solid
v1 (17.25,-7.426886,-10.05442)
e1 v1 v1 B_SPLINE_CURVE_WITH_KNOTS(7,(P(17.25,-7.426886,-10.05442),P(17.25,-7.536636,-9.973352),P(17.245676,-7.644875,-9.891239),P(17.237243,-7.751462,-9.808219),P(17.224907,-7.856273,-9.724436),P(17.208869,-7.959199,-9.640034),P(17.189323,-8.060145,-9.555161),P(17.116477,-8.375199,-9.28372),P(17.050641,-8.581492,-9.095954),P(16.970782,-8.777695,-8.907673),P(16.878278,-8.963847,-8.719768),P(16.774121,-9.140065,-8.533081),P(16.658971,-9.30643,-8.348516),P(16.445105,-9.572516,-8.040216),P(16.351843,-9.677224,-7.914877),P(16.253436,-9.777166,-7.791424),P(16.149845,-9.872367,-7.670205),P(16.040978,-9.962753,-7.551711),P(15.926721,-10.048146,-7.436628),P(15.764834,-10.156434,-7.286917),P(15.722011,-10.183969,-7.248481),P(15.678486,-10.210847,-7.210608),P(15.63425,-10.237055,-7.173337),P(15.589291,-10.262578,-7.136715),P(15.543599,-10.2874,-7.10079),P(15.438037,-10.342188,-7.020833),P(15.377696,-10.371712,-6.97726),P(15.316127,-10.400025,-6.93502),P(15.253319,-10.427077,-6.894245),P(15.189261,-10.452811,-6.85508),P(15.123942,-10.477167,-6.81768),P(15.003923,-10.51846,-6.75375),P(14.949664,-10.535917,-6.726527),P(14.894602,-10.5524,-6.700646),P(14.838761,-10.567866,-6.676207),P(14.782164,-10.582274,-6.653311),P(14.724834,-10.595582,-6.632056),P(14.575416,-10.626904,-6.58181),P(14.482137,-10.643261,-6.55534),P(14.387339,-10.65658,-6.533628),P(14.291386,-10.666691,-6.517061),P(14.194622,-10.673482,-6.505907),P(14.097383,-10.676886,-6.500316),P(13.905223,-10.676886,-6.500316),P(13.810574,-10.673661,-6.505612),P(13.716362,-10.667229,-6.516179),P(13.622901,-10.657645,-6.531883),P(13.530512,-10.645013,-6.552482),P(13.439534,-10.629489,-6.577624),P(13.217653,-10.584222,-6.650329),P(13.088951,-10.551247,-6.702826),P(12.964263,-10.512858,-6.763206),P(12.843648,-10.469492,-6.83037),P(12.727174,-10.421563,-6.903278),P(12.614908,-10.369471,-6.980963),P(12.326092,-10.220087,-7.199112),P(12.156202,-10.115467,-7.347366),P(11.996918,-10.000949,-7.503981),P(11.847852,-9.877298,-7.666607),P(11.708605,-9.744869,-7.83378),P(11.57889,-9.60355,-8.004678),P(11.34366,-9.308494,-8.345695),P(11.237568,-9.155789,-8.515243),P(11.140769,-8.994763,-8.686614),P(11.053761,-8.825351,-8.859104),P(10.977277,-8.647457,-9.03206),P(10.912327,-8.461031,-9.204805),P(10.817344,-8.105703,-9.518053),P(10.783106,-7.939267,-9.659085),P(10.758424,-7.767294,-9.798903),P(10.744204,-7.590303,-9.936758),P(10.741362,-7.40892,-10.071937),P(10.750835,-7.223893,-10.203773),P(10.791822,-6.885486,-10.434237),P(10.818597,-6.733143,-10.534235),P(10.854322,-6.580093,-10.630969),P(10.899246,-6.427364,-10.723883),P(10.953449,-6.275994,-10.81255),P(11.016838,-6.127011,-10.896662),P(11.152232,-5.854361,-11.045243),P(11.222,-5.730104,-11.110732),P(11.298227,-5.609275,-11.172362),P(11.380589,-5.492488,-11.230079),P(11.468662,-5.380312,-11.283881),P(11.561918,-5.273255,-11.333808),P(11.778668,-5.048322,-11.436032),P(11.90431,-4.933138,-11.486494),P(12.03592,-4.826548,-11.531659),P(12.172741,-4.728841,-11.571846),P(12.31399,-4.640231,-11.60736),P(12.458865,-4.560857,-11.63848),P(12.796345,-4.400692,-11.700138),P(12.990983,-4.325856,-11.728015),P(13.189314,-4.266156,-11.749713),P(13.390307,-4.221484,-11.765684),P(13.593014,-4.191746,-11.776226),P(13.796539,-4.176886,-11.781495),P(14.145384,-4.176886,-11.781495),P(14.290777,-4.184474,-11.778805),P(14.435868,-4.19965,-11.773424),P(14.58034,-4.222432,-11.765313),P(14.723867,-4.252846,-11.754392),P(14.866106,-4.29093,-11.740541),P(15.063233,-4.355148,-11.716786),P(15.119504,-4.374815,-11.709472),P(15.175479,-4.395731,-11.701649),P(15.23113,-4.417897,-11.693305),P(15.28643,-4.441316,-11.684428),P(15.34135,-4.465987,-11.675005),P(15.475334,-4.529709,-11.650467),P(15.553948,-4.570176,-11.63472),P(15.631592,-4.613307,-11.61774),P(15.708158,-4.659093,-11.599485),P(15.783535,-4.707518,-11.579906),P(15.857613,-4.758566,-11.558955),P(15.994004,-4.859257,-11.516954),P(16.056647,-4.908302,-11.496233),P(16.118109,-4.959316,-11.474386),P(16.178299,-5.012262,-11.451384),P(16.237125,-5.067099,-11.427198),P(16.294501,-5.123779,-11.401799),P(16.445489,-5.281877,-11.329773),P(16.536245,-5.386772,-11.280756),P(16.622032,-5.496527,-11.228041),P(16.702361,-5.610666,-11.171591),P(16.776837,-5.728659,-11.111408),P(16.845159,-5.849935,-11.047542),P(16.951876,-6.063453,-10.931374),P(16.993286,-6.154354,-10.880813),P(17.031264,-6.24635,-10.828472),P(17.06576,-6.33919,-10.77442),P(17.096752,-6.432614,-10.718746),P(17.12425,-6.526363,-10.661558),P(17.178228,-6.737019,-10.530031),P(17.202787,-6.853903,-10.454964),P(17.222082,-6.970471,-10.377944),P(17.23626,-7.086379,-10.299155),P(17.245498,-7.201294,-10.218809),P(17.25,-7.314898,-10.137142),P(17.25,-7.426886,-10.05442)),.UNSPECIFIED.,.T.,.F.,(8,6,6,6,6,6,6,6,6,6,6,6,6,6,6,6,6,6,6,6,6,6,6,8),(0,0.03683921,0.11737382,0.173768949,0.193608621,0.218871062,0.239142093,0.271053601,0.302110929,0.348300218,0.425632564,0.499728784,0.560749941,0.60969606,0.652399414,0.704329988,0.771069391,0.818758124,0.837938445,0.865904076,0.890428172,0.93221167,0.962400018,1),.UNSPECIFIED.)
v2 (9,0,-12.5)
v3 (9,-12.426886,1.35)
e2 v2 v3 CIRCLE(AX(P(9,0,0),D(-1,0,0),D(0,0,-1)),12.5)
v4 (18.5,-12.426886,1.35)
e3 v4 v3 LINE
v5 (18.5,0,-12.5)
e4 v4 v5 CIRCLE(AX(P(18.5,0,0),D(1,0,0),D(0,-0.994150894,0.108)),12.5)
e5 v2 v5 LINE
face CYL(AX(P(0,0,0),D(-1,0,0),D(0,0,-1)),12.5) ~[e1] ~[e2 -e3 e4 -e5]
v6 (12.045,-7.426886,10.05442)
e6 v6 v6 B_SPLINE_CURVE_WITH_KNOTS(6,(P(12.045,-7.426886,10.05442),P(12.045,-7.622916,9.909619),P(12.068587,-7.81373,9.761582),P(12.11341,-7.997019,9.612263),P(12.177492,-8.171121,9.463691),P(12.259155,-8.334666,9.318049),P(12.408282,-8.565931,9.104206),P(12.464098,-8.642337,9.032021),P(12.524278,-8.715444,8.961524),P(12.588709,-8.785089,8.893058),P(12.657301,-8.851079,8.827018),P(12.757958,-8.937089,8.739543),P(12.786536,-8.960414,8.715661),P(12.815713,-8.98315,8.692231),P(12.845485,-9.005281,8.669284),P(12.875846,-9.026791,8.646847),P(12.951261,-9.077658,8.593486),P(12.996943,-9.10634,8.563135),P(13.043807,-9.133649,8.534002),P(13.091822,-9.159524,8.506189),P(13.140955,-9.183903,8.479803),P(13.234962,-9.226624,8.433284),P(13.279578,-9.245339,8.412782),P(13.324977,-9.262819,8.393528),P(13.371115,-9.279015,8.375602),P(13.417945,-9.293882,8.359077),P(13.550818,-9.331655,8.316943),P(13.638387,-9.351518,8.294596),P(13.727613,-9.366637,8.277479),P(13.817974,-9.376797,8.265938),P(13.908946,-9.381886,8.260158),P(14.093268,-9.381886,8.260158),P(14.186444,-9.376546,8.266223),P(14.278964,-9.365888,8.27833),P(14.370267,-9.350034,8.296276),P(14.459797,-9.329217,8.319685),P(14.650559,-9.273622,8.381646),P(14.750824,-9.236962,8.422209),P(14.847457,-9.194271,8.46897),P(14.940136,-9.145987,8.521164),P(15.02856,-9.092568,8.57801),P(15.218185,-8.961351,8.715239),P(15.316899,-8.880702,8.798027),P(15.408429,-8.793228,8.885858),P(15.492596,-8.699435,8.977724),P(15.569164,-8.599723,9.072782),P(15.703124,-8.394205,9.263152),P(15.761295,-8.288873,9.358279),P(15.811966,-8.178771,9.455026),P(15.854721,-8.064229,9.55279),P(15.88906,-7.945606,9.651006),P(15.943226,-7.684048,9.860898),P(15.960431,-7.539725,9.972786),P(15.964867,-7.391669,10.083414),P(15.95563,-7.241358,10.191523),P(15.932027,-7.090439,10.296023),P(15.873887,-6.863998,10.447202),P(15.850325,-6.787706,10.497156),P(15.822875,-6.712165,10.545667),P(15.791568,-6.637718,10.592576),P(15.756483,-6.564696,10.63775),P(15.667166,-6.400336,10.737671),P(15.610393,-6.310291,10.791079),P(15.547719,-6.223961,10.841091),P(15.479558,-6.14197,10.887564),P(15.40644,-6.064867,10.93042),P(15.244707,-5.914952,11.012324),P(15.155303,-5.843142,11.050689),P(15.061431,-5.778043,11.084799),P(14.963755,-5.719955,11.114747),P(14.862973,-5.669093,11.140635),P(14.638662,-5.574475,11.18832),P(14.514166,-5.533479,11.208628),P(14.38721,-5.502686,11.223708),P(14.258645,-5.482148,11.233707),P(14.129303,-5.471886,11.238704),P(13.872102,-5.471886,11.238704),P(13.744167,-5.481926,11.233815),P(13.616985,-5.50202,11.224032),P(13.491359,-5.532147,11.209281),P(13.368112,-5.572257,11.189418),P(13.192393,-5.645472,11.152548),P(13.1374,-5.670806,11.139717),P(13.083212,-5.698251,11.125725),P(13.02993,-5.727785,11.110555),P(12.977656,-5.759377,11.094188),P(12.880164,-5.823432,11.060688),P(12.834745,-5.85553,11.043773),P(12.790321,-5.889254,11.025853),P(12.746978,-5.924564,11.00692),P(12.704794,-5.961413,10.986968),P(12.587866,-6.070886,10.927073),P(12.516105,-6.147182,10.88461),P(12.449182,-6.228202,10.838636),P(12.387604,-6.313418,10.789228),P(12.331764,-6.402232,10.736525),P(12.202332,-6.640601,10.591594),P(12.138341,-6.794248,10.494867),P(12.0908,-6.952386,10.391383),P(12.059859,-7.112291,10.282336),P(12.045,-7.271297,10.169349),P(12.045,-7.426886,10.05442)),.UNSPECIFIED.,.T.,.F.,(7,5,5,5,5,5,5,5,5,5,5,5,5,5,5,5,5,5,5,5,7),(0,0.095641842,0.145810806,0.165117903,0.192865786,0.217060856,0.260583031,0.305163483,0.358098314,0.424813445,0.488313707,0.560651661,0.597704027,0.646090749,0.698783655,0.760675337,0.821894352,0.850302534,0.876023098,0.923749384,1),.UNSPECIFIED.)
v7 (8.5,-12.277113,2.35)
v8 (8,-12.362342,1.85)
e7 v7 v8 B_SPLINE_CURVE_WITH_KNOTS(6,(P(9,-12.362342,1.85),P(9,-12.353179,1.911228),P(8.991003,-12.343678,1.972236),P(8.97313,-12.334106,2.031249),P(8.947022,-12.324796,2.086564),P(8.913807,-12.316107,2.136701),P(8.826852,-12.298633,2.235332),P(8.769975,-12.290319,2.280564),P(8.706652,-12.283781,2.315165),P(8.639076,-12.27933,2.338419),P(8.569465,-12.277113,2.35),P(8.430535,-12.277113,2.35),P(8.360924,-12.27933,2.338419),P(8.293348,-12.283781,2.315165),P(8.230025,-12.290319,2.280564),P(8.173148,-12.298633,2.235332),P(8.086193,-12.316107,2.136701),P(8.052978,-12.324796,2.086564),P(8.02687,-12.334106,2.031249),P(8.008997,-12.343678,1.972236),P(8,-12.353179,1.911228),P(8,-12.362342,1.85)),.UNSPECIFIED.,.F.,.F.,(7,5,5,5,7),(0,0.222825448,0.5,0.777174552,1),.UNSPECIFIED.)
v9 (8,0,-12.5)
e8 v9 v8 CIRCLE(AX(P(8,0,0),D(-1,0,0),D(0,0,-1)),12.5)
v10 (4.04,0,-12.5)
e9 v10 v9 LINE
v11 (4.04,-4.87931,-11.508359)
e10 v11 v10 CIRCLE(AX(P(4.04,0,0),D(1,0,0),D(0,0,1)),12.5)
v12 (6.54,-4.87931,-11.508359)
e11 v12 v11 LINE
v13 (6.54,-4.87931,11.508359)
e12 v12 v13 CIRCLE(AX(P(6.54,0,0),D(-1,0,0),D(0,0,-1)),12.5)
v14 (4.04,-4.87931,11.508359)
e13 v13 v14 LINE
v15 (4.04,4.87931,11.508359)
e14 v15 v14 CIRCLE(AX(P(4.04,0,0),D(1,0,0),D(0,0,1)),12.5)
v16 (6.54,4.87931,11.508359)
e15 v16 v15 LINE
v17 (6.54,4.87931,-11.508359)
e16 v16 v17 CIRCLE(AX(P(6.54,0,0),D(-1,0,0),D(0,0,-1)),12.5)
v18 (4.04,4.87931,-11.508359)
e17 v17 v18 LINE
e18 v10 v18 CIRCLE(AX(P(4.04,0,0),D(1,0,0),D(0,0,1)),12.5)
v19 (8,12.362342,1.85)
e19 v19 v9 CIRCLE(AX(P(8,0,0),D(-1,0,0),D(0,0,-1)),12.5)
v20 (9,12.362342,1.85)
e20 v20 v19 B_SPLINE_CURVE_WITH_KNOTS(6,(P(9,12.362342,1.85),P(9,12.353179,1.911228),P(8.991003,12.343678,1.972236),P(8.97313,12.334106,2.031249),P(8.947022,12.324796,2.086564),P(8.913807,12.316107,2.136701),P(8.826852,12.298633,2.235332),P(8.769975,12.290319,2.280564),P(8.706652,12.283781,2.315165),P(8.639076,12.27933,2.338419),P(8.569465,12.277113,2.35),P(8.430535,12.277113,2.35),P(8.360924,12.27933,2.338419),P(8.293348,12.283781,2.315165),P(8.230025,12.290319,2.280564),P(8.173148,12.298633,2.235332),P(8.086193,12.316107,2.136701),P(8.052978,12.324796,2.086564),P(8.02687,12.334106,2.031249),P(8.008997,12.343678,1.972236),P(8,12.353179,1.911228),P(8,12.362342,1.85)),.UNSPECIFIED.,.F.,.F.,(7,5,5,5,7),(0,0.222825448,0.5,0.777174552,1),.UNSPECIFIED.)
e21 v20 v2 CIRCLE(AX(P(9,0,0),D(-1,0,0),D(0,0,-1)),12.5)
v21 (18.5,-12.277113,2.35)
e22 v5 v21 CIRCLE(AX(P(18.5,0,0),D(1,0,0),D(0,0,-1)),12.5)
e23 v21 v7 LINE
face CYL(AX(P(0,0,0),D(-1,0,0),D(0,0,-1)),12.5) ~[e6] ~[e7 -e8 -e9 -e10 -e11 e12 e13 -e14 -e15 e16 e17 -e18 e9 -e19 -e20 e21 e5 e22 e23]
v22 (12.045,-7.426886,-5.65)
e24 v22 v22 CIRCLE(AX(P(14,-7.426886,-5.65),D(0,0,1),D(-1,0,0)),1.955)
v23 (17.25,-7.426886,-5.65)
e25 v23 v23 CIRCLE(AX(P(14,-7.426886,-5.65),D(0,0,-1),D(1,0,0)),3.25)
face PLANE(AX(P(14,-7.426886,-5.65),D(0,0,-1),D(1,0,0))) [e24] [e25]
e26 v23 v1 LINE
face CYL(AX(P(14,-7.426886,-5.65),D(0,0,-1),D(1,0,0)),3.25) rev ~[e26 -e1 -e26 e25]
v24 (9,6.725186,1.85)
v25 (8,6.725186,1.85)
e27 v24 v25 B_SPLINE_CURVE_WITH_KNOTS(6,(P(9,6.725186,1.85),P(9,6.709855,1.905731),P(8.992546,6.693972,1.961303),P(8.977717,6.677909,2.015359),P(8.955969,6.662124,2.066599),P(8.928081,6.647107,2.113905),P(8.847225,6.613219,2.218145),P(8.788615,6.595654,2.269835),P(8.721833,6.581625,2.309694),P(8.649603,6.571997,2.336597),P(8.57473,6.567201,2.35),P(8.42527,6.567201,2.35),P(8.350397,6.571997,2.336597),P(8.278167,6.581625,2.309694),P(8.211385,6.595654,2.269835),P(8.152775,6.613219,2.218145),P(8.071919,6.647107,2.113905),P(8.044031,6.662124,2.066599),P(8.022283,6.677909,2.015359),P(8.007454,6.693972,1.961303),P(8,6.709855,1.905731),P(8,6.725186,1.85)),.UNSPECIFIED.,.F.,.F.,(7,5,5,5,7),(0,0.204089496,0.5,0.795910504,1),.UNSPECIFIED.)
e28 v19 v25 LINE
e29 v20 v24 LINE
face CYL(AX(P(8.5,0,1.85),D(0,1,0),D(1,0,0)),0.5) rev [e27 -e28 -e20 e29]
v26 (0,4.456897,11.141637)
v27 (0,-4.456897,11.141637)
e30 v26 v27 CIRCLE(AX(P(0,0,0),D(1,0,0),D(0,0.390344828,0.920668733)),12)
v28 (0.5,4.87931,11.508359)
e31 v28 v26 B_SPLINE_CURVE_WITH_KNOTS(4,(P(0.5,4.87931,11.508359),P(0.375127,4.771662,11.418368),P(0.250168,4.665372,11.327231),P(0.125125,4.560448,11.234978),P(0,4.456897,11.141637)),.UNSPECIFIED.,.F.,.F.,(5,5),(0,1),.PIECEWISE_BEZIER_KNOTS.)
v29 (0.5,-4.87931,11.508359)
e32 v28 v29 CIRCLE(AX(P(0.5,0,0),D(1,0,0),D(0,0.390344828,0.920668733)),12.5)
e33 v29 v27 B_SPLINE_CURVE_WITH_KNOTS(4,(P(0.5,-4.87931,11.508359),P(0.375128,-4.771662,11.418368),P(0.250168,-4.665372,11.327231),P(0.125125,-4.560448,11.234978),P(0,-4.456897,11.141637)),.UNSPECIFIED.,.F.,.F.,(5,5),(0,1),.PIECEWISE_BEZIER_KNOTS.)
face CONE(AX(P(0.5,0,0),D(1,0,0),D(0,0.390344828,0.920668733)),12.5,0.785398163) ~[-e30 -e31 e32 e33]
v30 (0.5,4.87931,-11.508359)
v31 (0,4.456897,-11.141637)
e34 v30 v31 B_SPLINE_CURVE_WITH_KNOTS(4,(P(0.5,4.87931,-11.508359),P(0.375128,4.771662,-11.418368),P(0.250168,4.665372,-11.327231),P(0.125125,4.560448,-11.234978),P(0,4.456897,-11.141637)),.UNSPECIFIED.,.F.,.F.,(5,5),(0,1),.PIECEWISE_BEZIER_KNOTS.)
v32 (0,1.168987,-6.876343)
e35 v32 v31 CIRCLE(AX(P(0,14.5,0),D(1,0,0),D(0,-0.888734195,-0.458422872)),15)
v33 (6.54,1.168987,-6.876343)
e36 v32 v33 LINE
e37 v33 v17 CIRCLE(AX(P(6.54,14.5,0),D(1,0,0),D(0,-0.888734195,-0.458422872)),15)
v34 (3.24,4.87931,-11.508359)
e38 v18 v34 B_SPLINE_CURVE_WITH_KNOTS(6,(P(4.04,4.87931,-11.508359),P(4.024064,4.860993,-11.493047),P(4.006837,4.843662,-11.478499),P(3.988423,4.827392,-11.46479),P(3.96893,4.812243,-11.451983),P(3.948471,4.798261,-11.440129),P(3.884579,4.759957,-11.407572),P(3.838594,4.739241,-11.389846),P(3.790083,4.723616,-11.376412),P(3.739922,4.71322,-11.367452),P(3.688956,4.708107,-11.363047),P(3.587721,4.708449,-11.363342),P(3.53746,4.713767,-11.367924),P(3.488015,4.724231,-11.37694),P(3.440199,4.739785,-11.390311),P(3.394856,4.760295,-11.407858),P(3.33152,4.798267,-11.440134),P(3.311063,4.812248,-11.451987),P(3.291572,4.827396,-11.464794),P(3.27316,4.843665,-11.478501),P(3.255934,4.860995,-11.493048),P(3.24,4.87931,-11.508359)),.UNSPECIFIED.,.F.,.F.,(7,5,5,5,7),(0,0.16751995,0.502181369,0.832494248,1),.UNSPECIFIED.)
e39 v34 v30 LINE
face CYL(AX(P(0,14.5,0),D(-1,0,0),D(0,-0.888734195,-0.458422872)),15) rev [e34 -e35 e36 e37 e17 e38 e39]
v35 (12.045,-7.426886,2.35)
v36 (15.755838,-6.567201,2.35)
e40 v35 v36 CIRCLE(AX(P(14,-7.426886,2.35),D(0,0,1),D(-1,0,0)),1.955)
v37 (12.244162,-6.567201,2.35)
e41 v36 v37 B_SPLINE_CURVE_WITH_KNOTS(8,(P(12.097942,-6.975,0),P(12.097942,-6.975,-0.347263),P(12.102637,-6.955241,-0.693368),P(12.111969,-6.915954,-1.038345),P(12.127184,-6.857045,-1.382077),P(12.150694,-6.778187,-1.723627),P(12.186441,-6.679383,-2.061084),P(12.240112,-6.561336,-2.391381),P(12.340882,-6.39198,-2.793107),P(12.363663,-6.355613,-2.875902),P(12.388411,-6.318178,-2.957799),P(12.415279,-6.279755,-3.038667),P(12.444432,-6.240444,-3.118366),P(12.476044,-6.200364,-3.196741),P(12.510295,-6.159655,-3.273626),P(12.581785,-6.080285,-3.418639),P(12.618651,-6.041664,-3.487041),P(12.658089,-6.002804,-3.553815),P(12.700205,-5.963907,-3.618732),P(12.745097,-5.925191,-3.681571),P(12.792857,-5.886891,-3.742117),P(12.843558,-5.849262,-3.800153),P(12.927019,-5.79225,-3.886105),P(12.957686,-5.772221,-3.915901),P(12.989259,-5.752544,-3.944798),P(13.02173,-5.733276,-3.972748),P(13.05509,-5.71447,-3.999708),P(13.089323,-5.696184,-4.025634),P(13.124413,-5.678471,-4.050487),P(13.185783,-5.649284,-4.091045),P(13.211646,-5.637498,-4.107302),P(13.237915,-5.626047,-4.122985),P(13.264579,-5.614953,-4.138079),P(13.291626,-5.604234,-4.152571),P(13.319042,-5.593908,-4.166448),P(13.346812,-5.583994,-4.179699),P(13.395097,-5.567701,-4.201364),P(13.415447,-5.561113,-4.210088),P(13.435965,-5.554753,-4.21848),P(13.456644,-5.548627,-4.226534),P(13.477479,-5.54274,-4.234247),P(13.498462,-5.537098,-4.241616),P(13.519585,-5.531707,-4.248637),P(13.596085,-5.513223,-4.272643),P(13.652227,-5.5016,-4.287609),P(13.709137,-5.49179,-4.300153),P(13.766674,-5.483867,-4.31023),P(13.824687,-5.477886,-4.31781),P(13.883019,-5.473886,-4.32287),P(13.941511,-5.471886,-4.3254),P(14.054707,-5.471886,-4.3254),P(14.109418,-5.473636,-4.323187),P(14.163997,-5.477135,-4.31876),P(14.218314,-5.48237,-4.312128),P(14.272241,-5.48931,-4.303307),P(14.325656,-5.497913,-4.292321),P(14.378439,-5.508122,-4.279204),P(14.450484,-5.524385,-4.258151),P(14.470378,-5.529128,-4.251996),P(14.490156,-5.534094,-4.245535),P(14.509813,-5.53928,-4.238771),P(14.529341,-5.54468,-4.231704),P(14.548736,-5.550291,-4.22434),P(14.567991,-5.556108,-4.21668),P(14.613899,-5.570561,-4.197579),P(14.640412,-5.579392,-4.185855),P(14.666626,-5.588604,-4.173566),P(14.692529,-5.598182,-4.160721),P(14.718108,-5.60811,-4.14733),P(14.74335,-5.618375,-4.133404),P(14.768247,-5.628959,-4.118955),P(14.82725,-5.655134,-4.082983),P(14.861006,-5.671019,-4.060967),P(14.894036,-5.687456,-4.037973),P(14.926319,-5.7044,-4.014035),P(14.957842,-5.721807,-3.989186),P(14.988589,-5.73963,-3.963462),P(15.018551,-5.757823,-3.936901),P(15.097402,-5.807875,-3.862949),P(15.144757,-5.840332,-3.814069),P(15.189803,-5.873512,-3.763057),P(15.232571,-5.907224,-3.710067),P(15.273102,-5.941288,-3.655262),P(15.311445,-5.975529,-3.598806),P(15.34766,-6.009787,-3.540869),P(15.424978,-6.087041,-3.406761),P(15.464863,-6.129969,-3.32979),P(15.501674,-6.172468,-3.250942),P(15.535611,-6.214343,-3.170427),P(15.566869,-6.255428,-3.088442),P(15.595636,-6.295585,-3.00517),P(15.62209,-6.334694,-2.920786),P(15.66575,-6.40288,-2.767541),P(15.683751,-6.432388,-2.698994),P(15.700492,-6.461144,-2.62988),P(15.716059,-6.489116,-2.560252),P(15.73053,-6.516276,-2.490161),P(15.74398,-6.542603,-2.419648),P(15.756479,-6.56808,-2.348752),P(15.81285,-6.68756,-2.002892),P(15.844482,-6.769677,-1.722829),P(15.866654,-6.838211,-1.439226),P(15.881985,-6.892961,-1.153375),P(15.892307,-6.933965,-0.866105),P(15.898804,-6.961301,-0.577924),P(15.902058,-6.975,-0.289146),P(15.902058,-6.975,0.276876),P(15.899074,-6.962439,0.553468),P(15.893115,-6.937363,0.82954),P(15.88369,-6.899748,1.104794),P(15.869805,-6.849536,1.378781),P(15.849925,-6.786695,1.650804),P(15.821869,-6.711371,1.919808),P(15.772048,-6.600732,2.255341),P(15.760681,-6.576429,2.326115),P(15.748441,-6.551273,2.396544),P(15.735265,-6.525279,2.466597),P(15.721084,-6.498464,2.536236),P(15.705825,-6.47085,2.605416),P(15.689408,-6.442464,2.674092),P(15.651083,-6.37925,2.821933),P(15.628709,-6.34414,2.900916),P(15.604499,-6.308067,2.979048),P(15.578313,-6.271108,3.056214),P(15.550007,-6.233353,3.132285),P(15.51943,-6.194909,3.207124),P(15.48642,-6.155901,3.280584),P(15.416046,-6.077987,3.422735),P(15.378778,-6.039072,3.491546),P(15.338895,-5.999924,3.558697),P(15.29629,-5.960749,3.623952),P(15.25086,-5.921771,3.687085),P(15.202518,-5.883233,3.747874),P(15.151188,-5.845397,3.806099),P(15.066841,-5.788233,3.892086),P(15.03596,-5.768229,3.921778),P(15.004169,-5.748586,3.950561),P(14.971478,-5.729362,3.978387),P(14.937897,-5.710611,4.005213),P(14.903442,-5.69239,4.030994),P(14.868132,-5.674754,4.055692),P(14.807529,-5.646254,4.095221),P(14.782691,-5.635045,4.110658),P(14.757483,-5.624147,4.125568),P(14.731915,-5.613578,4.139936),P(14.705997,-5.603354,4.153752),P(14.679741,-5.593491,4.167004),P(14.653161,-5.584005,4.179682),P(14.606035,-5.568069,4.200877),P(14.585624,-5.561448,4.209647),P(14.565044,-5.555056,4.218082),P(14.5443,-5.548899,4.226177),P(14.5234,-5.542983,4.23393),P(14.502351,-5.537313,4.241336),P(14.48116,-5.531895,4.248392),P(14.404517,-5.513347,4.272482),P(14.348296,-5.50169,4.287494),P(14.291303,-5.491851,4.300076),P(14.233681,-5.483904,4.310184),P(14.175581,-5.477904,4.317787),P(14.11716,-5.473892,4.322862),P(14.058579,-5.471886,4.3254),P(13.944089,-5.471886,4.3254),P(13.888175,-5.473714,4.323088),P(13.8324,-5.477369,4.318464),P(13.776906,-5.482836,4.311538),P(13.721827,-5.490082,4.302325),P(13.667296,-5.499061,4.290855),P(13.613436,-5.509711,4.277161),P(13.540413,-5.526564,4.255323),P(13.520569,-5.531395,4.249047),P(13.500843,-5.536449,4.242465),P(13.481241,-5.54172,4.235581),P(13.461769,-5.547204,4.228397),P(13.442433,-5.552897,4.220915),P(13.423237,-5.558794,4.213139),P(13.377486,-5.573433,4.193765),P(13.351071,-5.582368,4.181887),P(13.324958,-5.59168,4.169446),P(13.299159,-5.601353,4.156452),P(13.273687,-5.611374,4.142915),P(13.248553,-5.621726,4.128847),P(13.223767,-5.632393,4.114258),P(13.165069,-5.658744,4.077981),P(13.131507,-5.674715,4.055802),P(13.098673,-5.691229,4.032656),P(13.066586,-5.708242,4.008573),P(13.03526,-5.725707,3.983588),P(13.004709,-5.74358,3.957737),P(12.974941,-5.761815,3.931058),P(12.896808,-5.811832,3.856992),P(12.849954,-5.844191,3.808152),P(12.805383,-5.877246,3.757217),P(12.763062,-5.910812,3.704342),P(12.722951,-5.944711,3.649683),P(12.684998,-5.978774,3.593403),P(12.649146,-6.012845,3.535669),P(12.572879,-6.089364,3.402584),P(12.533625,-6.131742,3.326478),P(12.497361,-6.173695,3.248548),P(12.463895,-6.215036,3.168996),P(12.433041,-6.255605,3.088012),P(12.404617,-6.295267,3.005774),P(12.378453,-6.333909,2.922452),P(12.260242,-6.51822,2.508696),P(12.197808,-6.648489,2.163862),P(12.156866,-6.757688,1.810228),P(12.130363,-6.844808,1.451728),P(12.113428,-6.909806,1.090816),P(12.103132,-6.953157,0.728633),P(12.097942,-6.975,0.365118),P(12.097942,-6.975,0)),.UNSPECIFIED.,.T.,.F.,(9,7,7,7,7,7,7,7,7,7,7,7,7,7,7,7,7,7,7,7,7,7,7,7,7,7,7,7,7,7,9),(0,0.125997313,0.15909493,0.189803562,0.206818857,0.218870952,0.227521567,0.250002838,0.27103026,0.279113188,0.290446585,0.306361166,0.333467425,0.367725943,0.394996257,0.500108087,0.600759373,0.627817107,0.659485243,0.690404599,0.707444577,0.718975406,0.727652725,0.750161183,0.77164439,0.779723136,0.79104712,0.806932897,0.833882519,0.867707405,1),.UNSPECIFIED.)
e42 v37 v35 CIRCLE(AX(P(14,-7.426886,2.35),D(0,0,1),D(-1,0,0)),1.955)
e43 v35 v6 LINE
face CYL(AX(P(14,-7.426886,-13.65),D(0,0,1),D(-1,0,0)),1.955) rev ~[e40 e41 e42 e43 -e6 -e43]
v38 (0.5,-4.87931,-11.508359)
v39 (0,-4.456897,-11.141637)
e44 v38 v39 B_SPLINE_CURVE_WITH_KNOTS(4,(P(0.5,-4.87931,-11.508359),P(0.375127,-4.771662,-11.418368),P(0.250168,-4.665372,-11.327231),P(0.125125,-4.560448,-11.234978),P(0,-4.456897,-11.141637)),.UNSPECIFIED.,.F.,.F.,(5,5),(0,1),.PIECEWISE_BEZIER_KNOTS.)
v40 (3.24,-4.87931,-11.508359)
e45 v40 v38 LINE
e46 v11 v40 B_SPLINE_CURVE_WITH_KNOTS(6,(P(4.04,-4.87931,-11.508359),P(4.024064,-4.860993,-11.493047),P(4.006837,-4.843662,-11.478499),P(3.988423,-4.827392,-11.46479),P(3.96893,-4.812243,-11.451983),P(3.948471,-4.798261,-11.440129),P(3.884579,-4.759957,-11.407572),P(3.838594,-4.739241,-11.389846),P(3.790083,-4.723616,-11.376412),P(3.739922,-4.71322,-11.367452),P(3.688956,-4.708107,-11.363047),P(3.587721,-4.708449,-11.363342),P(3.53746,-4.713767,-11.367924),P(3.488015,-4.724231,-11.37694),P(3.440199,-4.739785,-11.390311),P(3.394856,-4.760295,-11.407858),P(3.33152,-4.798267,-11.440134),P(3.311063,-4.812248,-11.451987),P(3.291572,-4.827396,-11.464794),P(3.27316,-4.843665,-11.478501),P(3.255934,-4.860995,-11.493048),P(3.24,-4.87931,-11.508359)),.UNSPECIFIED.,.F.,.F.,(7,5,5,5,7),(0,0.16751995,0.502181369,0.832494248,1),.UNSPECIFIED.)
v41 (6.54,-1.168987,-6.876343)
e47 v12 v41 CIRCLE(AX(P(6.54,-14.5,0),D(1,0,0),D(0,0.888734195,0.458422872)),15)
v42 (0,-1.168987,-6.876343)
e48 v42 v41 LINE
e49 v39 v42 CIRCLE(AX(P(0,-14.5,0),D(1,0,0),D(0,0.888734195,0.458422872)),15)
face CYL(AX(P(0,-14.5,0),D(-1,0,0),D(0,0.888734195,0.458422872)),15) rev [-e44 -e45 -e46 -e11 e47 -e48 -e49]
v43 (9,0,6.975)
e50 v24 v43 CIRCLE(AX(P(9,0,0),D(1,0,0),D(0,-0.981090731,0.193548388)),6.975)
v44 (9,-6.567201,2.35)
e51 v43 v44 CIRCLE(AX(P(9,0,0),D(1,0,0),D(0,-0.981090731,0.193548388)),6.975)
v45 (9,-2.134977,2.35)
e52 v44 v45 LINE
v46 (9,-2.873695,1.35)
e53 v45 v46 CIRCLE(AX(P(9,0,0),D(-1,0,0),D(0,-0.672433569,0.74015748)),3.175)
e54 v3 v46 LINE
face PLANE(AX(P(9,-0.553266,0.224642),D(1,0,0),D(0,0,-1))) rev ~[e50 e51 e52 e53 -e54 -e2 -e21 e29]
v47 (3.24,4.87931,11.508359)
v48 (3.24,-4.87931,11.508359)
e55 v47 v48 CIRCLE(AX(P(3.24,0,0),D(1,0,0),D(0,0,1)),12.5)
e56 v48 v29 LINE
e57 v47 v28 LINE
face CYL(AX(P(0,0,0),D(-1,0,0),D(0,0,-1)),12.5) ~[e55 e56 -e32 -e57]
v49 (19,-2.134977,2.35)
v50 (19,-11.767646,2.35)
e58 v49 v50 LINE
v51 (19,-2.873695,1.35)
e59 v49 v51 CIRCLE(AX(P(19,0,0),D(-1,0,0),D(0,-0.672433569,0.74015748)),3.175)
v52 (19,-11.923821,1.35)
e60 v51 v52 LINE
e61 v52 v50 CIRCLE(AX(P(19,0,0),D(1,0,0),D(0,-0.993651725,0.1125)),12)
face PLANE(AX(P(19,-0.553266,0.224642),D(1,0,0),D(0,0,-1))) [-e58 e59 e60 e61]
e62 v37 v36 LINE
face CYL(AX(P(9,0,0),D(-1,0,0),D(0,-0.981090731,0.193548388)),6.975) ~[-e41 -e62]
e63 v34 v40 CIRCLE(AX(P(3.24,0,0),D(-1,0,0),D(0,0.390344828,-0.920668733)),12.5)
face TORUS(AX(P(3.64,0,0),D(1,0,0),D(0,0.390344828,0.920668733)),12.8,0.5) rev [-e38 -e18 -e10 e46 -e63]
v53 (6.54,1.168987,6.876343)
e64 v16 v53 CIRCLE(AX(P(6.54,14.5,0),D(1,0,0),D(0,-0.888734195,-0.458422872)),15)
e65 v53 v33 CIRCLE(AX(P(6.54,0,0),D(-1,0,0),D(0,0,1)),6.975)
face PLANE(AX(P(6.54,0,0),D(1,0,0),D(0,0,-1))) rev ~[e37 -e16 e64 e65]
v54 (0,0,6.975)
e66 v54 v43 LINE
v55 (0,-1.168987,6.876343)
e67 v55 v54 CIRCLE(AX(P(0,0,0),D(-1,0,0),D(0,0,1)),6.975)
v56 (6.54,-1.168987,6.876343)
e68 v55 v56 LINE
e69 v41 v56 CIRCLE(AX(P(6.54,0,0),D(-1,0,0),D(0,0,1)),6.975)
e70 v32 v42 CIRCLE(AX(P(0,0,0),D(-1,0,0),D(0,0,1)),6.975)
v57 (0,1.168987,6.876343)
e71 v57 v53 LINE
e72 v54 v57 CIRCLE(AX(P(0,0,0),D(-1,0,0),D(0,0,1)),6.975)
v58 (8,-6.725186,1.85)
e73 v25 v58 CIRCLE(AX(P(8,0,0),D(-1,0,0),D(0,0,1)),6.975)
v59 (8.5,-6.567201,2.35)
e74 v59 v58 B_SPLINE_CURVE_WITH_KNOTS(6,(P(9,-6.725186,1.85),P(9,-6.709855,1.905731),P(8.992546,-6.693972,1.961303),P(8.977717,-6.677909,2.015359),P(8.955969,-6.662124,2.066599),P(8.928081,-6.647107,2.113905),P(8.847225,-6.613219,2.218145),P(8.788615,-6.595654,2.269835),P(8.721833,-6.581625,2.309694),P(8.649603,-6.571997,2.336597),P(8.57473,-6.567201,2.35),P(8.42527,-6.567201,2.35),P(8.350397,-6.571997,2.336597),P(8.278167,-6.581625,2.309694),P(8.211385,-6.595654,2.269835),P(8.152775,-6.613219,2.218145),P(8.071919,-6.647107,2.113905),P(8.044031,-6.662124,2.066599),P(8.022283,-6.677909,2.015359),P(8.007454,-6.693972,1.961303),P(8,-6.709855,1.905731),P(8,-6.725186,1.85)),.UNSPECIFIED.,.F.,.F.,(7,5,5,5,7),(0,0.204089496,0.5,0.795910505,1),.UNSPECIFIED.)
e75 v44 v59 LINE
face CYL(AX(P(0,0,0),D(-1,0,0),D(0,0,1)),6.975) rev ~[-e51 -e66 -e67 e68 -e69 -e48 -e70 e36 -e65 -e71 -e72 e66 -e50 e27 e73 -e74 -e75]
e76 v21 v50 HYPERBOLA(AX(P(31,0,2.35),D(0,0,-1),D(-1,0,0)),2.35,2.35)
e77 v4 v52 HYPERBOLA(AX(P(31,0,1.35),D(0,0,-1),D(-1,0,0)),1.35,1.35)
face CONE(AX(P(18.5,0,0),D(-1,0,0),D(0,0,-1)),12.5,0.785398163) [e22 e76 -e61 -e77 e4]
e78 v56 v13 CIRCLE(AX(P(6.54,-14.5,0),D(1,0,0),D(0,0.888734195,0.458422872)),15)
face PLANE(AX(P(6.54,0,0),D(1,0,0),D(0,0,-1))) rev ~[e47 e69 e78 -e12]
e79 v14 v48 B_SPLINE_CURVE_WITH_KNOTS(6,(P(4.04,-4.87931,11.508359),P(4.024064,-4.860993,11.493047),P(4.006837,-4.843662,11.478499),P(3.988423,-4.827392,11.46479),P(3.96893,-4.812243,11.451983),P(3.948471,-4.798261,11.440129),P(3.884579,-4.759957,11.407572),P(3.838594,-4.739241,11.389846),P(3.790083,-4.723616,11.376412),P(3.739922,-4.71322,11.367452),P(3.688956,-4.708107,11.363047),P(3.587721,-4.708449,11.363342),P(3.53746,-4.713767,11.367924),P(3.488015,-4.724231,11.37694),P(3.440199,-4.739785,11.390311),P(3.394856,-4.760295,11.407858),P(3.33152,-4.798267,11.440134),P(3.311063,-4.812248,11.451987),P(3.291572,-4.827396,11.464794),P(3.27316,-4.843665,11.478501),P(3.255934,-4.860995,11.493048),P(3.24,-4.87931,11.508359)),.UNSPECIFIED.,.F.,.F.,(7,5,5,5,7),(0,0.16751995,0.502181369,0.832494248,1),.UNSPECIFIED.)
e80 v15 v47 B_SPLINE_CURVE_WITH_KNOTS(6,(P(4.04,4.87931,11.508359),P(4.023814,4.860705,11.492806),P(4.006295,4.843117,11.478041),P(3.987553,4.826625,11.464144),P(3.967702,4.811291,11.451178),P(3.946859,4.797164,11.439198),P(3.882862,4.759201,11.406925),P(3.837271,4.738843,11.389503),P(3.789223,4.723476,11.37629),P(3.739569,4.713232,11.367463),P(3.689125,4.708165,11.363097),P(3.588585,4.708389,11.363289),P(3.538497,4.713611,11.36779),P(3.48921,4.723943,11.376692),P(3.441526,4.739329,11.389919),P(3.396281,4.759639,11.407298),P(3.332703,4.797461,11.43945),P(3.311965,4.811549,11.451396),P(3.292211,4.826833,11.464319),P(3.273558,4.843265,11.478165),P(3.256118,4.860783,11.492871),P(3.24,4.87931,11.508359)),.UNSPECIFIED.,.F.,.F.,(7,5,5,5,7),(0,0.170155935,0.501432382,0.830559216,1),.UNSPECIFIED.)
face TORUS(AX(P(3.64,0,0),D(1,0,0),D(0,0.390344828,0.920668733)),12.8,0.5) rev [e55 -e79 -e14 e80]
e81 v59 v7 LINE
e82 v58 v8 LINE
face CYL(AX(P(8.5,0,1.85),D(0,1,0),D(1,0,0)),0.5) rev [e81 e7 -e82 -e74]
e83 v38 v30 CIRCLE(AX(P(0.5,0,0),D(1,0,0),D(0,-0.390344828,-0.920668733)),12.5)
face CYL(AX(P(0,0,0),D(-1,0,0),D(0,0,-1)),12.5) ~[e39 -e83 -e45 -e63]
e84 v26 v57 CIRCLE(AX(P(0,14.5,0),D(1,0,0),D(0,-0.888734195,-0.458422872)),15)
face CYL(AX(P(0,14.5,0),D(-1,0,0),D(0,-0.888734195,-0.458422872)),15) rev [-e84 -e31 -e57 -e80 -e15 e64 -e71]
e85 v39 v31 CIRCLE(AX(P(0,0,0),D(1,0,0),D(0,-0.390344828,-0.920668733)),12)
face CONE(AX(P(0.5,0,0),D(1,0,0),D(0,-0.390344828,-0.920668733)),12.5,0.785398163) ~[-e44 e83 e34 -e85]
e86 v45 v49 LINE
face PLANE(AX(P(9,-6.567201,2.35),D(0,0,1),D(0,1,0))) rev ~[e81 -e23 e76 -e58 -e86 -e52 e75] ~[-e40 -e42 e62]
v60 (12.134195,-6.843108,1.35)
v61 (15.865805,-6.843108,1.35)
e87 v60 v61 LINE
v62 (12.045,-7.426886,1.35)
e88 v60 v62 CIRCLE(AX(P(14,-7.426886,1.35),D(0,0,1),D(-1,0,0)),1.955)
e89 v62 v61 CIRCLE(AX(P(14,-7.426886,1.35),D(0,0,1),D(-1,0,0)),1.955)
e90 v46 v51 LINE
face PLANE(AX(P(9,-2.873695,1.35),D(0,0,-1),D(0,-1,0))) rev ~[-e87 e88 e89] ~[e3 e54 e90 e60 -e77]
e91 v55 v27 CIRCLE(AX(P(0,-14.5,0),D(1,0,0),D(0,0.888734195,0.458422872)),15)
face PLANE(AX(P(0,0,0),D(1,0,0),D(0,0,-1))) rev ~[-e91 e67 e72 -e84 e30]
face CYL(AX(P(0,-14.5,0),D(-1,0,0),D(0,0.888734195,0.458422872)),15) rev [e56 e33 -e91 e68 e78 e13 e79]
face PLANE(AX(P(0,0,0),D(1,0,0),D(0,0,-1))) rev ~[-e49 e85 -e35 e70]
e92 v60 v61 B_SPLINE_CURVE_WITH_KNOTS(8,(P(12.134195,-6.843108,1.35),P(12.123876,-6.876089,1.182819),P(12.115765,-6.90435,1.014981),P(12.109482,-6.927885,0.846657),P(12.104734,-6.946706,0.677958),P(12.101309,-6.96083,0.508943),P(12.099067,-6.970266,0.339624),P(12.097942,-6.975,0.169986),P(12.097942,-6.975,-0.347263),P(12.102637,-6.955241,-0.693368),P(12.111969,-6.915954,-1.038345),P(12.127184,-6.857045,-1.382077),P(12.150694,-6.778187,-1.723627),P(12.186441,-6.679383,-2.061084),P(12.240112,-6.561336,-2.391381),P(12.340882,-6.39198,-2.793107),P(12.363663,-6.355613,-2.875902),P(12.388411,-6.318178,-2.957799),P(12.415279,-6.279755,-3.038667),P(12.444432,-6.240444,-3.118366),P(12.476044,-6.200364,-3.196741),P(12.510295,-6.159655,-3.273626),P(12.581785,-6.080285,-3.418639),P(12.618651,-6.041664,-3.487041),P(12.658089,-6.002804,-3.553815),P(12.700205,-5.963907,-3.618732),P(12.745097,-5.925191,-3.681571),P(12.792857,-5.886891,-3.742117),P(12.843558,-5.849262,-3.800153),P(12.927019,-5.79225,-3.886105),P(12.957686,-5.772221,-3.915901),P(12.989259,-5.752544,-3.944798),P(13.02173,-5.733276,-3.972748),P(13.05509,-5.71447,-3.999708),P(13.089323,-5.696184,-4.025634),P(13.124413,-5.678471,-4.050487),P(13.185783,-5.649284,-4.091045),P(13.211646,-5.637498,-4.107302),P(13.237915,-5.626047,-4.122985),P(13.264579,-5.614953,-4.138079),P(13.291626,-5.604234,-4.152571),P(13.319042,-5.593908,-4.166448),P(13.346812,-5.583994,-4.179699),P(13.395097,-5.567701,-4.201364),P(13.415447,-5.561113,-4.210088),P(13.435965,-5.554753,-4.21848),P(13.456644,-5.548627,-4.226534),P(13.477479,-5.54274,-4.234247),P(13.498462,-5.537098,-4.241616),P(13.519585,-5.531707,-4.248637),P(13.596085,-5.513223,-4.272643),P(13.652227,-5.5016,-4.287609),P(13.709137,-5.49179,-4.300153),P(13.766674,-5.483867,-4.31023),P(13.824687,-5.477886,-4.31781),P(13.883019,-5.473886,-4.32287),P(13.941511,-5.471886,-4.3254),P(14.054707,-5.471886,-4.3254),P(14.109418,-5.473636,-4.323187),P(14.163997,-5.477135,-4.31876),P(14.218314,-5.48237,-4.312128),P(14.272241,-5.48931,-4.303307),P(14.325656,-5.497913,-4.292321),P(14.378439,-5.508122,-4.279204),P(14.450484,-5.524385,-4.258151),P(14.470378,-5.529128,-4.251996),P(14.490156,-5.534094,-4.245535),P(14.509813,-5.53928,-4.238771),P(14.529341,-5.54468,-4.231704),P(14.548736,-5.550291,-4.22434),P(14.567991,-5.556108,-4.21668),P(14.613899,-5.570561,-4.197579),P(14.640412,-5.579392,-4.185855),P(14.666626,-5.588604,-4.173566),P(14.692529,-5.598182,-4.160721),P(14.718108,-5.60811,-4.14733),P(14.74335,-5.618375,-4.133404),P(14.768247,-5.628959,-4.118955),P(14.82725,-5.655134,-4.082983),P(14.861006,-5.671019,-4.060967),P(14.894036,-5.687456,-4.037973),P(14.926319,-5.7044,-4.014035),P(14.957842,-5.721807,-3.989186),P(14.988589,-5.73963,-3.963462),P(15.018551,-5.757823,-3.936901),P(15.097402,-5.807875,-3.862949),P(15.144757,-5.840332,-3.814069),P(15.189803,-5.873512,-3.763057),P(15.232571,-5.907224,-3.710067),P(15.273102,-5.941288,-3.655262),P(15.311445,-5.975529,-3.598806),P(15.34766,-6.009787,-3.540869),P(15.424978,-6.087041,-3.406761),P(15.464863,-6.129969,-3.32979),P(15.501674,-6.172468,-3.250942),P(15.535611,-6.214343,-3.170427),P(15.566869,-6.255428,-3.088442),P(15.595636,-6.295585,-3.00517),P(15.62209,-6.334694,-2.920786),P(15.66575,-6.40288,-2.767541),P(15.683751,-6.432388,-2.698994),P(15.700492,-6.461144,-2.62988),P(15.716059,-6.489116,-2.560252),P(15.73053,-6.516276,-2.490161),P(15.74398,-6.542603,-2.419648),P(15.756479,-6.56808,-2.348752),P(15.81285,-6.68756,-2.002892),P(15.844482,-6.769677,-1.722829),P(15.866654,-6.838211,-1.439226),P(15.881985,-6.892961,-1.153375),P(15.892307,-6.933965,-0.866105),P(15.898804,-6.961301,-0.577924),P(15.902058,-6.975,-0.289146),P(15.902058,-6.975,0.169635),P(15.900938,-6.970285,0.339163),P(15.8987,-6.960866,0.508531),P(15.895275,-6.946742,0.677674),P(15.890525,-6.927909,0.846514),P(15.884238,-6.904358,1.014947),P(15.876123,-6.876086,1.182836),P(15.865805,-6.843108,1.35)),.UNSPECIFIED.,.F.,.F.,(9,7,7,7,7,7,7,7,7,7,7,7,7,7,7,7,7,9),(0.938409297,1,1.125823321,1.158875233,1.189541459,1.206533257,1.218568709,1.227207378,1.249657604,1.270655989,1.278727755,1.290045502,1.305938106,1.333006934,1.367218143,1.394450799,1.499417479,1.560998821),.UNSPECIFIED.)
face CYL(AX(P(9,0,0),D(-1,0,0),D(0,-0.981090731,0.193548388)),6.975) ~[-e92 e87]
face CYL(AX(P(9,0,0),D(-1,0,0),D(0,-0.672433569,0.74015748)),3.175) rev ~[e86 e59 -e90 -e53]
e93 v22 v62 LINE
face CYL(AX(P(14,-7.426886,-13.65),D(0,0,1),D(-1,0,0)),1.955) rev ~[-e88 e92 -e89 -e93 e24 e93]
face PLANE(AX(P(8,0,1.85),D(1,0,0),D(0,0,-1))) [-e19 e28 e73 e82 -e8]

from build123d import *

# Parameters (mm, degrees)
SKETCH1_R                                            = 12.5
BOSS_EXTRUDE1_DEPTH                                  = 19
CUT_EXTRUDE1_REACH                                   = 27.952
SKETCH3_R                                            = 6.975
CUT_EXTRUDE2_DEPTH                                   = 6.54
SKETCH5_R                                            = 0.5
CUT_EXTRUDE4_DEPTH                                   = 17.5
CUT_EXTRUDE5_DEPTH                                   = 15
REFRENTADO_PARA_TORNILLO_TAP_N_CON_CABEZ_D           = 3.91
REFRENTADO_PARA_TORNILLO_TAP_N_CON_CABEZ_CBORE_D     = 6.5
REFRENTADO_PARA_TORNILLO_TAP_N_CON_CABEZ_CBORE_DEPTH = 8
CHAFL_N1_SIZE                                        = 0.5
DODANIE_WYCI_GNI_CIE1_START                          = -10
DODANIE_WYCI_GNI_CIE1_DEPTH                          = 10


with BuildPart() as part:
    # Sketch1 → Boss-Extrude1 (new body)
    with BuildSketch(Plane(origin=(0, 0, 0), x_dir=(0, 0, -1), z_dir=(1, 0, 0))):
        Circle(SKETCH1_R)
    extrude(amount=BOSS_EXTRUDE1_DEPTH)

    # Sketch3 → Cut-Extrude1 (cut, up to next)
    with BuildSketch(Plane.ZY, mode=Mode.PRIVATE) as cut_extrude1_sk1:
        Circle(SKETCH3_R)
    cut_extrude1_tool1 = extrude(cut_extrude1_sk1.sketch, amount=-CUT_EXTRUDE1_REACH, mode=Mode.PRIVATE) & part.part
    add(cut_extrude1_tool1.solids().sort_by_distance((0, 0, 0))[0], mode=Mode.SUBTRACT)

    # Sketch2 → Cut-Extrude2 (cut)
    with BuildSketch(Plane.ZY):
        with BuildLine():
            Line((6.876343086, 1.168987069), (6.876343086, -1.168987069))
            ThreePointArc((6.876343086, -1.168987069), (0, -29.5), (-6.876343086, -1.168987069))
            Line((-6.876343086, -1.168987069), (-6.876343086, 1.168987069))
            ThreePointArc((-6.876343086, 1.168987069), (0, 29.5), (6.876343086, 1.168987069))
        make_face()
    extrude(amount=-CUT_EXTRUDE2_DEPTH, mode=Mode.SUBTRACT)

    # Sketch5 → Cut-Revolve1 (revolve, cut)
    with BuildSketch(Plane(origin=(0, 0, 0), x_dir=(-1, 0, 0), z_dir=(0, -1, 0)), mode=Mode.PRIVATE) as cut_revolve1_sk:
        with Locations((-3.64, 12.8)):
            Circle(SKETCH5_R)
    revolve(cut_revolve1_sk.sketch.rotate(Axis((19, 0, 0), (-1, 0, 0)), 202.975957279), axis=Axis((19, 0, 0), (-1, 0, 0)), mode=Mode.SUBTRACT)

    # Sketch6 → Cut-Extrude4 (cut, symmetric)
    with BuildSketch(Plane(origin=(0, 0, 0), x_dir=(1, 0, 0), z_dir=(0, 1, 0))):
        with BuildLine():
            Line((9, 14.85), (9, -1.85))
            ThreePointArc((9, -1.85), (8.5, -2.35), (8, -1.85))
            Line((8, -1.85), (8, 14.85))
            Line((8, 14.85), (9, 14.85))
        make_face()
    extrude(amount=CUT_EXTRUDE4_DEPTH, both=True, mode=Mode.SUBTRACT)

    # Sketch9 → Cut-Extrude5 (cut)
    with BuildSketch(Plane(origin=(0, 0, 0), x_dir=(1, 0, 0), z_dir=(0, 1, 0))):
        with BuildLine():
            Line((8.5, -1.35), (27.798520731, -1.35))
            ThreePointArc((27.798520731, -1.35), (28.298520731, -1.85), (27.798520731, -2.35))
            Line((27.798520731, -2.35), (8.5, -2.35))
            ThreePointArc((8.5, -2.35), (8, -1.85), (8.5, -1.35))
        make_face()
    extrude(amount=-CUT_EXTRUDE5_DEPTH, mode=Mode.SUBTRACT)

    # Refrentado para tornillo tapón con cabeza de clavija de M2.51 (through all)
    with Locations(Plane(origin=(0, 0, -13.65), x_dir=(1, 0, 0), z_dir=(0, 0, -1))):
        with Locations((14, 7.426886175)):
            CounterBoreHole(REFRENTADO_PARA_TORNILLO_TAP_N_CON_CABEZ_D / 2, REFRENTADO_PARA_TORNILLO_TAP_N_CON_CABEZ_CBORE_D / 2, REFRENTADO_PARA_TORNILLO_TAP_N_CON_CABEZ_CBORE_DEPTH)

    # Chaflán1
    chafl_n1_edges = [part.edges().sort_by_distance(p)[0] for p in [
        (0, 0, 12.5),
        (0, 0, -12.5),
        (19, 9.633924434, 7.964766161),
    ]]
    chamfer(chafl_n1_edges, length=CHAFL_N1_SIZE)

    # Szkic1 → Dodanie-wyciągnięcie1 (add)
    with BuildSketch(Plane(origin=(19, 0, 0), x_dir=(0, 0, -1), z_dir=(1, 0, 0)).offset(DODANIE_WYCI_GNI_CIE1_START)):
        with BuildLine():
            Line((-2.35, -6.567200697), (-2.35, -2.134976581))
            ThreePointArc((-2.35, -2.134976581), (1.88651169, 2.553761665), (-1.35, -2.873695356))
            Line((-1.35, -2.873695356), (-1.35, -6.843107847))
            ThreePointArc((-1.35, -6.843107847), (1.855136434, 6.723770803), (-2.35, -6.567200697))
        make_face()
    extrude(amount=DODANIE_WYCI_GNI_CIE1_DEPTH)


solid = part.part
